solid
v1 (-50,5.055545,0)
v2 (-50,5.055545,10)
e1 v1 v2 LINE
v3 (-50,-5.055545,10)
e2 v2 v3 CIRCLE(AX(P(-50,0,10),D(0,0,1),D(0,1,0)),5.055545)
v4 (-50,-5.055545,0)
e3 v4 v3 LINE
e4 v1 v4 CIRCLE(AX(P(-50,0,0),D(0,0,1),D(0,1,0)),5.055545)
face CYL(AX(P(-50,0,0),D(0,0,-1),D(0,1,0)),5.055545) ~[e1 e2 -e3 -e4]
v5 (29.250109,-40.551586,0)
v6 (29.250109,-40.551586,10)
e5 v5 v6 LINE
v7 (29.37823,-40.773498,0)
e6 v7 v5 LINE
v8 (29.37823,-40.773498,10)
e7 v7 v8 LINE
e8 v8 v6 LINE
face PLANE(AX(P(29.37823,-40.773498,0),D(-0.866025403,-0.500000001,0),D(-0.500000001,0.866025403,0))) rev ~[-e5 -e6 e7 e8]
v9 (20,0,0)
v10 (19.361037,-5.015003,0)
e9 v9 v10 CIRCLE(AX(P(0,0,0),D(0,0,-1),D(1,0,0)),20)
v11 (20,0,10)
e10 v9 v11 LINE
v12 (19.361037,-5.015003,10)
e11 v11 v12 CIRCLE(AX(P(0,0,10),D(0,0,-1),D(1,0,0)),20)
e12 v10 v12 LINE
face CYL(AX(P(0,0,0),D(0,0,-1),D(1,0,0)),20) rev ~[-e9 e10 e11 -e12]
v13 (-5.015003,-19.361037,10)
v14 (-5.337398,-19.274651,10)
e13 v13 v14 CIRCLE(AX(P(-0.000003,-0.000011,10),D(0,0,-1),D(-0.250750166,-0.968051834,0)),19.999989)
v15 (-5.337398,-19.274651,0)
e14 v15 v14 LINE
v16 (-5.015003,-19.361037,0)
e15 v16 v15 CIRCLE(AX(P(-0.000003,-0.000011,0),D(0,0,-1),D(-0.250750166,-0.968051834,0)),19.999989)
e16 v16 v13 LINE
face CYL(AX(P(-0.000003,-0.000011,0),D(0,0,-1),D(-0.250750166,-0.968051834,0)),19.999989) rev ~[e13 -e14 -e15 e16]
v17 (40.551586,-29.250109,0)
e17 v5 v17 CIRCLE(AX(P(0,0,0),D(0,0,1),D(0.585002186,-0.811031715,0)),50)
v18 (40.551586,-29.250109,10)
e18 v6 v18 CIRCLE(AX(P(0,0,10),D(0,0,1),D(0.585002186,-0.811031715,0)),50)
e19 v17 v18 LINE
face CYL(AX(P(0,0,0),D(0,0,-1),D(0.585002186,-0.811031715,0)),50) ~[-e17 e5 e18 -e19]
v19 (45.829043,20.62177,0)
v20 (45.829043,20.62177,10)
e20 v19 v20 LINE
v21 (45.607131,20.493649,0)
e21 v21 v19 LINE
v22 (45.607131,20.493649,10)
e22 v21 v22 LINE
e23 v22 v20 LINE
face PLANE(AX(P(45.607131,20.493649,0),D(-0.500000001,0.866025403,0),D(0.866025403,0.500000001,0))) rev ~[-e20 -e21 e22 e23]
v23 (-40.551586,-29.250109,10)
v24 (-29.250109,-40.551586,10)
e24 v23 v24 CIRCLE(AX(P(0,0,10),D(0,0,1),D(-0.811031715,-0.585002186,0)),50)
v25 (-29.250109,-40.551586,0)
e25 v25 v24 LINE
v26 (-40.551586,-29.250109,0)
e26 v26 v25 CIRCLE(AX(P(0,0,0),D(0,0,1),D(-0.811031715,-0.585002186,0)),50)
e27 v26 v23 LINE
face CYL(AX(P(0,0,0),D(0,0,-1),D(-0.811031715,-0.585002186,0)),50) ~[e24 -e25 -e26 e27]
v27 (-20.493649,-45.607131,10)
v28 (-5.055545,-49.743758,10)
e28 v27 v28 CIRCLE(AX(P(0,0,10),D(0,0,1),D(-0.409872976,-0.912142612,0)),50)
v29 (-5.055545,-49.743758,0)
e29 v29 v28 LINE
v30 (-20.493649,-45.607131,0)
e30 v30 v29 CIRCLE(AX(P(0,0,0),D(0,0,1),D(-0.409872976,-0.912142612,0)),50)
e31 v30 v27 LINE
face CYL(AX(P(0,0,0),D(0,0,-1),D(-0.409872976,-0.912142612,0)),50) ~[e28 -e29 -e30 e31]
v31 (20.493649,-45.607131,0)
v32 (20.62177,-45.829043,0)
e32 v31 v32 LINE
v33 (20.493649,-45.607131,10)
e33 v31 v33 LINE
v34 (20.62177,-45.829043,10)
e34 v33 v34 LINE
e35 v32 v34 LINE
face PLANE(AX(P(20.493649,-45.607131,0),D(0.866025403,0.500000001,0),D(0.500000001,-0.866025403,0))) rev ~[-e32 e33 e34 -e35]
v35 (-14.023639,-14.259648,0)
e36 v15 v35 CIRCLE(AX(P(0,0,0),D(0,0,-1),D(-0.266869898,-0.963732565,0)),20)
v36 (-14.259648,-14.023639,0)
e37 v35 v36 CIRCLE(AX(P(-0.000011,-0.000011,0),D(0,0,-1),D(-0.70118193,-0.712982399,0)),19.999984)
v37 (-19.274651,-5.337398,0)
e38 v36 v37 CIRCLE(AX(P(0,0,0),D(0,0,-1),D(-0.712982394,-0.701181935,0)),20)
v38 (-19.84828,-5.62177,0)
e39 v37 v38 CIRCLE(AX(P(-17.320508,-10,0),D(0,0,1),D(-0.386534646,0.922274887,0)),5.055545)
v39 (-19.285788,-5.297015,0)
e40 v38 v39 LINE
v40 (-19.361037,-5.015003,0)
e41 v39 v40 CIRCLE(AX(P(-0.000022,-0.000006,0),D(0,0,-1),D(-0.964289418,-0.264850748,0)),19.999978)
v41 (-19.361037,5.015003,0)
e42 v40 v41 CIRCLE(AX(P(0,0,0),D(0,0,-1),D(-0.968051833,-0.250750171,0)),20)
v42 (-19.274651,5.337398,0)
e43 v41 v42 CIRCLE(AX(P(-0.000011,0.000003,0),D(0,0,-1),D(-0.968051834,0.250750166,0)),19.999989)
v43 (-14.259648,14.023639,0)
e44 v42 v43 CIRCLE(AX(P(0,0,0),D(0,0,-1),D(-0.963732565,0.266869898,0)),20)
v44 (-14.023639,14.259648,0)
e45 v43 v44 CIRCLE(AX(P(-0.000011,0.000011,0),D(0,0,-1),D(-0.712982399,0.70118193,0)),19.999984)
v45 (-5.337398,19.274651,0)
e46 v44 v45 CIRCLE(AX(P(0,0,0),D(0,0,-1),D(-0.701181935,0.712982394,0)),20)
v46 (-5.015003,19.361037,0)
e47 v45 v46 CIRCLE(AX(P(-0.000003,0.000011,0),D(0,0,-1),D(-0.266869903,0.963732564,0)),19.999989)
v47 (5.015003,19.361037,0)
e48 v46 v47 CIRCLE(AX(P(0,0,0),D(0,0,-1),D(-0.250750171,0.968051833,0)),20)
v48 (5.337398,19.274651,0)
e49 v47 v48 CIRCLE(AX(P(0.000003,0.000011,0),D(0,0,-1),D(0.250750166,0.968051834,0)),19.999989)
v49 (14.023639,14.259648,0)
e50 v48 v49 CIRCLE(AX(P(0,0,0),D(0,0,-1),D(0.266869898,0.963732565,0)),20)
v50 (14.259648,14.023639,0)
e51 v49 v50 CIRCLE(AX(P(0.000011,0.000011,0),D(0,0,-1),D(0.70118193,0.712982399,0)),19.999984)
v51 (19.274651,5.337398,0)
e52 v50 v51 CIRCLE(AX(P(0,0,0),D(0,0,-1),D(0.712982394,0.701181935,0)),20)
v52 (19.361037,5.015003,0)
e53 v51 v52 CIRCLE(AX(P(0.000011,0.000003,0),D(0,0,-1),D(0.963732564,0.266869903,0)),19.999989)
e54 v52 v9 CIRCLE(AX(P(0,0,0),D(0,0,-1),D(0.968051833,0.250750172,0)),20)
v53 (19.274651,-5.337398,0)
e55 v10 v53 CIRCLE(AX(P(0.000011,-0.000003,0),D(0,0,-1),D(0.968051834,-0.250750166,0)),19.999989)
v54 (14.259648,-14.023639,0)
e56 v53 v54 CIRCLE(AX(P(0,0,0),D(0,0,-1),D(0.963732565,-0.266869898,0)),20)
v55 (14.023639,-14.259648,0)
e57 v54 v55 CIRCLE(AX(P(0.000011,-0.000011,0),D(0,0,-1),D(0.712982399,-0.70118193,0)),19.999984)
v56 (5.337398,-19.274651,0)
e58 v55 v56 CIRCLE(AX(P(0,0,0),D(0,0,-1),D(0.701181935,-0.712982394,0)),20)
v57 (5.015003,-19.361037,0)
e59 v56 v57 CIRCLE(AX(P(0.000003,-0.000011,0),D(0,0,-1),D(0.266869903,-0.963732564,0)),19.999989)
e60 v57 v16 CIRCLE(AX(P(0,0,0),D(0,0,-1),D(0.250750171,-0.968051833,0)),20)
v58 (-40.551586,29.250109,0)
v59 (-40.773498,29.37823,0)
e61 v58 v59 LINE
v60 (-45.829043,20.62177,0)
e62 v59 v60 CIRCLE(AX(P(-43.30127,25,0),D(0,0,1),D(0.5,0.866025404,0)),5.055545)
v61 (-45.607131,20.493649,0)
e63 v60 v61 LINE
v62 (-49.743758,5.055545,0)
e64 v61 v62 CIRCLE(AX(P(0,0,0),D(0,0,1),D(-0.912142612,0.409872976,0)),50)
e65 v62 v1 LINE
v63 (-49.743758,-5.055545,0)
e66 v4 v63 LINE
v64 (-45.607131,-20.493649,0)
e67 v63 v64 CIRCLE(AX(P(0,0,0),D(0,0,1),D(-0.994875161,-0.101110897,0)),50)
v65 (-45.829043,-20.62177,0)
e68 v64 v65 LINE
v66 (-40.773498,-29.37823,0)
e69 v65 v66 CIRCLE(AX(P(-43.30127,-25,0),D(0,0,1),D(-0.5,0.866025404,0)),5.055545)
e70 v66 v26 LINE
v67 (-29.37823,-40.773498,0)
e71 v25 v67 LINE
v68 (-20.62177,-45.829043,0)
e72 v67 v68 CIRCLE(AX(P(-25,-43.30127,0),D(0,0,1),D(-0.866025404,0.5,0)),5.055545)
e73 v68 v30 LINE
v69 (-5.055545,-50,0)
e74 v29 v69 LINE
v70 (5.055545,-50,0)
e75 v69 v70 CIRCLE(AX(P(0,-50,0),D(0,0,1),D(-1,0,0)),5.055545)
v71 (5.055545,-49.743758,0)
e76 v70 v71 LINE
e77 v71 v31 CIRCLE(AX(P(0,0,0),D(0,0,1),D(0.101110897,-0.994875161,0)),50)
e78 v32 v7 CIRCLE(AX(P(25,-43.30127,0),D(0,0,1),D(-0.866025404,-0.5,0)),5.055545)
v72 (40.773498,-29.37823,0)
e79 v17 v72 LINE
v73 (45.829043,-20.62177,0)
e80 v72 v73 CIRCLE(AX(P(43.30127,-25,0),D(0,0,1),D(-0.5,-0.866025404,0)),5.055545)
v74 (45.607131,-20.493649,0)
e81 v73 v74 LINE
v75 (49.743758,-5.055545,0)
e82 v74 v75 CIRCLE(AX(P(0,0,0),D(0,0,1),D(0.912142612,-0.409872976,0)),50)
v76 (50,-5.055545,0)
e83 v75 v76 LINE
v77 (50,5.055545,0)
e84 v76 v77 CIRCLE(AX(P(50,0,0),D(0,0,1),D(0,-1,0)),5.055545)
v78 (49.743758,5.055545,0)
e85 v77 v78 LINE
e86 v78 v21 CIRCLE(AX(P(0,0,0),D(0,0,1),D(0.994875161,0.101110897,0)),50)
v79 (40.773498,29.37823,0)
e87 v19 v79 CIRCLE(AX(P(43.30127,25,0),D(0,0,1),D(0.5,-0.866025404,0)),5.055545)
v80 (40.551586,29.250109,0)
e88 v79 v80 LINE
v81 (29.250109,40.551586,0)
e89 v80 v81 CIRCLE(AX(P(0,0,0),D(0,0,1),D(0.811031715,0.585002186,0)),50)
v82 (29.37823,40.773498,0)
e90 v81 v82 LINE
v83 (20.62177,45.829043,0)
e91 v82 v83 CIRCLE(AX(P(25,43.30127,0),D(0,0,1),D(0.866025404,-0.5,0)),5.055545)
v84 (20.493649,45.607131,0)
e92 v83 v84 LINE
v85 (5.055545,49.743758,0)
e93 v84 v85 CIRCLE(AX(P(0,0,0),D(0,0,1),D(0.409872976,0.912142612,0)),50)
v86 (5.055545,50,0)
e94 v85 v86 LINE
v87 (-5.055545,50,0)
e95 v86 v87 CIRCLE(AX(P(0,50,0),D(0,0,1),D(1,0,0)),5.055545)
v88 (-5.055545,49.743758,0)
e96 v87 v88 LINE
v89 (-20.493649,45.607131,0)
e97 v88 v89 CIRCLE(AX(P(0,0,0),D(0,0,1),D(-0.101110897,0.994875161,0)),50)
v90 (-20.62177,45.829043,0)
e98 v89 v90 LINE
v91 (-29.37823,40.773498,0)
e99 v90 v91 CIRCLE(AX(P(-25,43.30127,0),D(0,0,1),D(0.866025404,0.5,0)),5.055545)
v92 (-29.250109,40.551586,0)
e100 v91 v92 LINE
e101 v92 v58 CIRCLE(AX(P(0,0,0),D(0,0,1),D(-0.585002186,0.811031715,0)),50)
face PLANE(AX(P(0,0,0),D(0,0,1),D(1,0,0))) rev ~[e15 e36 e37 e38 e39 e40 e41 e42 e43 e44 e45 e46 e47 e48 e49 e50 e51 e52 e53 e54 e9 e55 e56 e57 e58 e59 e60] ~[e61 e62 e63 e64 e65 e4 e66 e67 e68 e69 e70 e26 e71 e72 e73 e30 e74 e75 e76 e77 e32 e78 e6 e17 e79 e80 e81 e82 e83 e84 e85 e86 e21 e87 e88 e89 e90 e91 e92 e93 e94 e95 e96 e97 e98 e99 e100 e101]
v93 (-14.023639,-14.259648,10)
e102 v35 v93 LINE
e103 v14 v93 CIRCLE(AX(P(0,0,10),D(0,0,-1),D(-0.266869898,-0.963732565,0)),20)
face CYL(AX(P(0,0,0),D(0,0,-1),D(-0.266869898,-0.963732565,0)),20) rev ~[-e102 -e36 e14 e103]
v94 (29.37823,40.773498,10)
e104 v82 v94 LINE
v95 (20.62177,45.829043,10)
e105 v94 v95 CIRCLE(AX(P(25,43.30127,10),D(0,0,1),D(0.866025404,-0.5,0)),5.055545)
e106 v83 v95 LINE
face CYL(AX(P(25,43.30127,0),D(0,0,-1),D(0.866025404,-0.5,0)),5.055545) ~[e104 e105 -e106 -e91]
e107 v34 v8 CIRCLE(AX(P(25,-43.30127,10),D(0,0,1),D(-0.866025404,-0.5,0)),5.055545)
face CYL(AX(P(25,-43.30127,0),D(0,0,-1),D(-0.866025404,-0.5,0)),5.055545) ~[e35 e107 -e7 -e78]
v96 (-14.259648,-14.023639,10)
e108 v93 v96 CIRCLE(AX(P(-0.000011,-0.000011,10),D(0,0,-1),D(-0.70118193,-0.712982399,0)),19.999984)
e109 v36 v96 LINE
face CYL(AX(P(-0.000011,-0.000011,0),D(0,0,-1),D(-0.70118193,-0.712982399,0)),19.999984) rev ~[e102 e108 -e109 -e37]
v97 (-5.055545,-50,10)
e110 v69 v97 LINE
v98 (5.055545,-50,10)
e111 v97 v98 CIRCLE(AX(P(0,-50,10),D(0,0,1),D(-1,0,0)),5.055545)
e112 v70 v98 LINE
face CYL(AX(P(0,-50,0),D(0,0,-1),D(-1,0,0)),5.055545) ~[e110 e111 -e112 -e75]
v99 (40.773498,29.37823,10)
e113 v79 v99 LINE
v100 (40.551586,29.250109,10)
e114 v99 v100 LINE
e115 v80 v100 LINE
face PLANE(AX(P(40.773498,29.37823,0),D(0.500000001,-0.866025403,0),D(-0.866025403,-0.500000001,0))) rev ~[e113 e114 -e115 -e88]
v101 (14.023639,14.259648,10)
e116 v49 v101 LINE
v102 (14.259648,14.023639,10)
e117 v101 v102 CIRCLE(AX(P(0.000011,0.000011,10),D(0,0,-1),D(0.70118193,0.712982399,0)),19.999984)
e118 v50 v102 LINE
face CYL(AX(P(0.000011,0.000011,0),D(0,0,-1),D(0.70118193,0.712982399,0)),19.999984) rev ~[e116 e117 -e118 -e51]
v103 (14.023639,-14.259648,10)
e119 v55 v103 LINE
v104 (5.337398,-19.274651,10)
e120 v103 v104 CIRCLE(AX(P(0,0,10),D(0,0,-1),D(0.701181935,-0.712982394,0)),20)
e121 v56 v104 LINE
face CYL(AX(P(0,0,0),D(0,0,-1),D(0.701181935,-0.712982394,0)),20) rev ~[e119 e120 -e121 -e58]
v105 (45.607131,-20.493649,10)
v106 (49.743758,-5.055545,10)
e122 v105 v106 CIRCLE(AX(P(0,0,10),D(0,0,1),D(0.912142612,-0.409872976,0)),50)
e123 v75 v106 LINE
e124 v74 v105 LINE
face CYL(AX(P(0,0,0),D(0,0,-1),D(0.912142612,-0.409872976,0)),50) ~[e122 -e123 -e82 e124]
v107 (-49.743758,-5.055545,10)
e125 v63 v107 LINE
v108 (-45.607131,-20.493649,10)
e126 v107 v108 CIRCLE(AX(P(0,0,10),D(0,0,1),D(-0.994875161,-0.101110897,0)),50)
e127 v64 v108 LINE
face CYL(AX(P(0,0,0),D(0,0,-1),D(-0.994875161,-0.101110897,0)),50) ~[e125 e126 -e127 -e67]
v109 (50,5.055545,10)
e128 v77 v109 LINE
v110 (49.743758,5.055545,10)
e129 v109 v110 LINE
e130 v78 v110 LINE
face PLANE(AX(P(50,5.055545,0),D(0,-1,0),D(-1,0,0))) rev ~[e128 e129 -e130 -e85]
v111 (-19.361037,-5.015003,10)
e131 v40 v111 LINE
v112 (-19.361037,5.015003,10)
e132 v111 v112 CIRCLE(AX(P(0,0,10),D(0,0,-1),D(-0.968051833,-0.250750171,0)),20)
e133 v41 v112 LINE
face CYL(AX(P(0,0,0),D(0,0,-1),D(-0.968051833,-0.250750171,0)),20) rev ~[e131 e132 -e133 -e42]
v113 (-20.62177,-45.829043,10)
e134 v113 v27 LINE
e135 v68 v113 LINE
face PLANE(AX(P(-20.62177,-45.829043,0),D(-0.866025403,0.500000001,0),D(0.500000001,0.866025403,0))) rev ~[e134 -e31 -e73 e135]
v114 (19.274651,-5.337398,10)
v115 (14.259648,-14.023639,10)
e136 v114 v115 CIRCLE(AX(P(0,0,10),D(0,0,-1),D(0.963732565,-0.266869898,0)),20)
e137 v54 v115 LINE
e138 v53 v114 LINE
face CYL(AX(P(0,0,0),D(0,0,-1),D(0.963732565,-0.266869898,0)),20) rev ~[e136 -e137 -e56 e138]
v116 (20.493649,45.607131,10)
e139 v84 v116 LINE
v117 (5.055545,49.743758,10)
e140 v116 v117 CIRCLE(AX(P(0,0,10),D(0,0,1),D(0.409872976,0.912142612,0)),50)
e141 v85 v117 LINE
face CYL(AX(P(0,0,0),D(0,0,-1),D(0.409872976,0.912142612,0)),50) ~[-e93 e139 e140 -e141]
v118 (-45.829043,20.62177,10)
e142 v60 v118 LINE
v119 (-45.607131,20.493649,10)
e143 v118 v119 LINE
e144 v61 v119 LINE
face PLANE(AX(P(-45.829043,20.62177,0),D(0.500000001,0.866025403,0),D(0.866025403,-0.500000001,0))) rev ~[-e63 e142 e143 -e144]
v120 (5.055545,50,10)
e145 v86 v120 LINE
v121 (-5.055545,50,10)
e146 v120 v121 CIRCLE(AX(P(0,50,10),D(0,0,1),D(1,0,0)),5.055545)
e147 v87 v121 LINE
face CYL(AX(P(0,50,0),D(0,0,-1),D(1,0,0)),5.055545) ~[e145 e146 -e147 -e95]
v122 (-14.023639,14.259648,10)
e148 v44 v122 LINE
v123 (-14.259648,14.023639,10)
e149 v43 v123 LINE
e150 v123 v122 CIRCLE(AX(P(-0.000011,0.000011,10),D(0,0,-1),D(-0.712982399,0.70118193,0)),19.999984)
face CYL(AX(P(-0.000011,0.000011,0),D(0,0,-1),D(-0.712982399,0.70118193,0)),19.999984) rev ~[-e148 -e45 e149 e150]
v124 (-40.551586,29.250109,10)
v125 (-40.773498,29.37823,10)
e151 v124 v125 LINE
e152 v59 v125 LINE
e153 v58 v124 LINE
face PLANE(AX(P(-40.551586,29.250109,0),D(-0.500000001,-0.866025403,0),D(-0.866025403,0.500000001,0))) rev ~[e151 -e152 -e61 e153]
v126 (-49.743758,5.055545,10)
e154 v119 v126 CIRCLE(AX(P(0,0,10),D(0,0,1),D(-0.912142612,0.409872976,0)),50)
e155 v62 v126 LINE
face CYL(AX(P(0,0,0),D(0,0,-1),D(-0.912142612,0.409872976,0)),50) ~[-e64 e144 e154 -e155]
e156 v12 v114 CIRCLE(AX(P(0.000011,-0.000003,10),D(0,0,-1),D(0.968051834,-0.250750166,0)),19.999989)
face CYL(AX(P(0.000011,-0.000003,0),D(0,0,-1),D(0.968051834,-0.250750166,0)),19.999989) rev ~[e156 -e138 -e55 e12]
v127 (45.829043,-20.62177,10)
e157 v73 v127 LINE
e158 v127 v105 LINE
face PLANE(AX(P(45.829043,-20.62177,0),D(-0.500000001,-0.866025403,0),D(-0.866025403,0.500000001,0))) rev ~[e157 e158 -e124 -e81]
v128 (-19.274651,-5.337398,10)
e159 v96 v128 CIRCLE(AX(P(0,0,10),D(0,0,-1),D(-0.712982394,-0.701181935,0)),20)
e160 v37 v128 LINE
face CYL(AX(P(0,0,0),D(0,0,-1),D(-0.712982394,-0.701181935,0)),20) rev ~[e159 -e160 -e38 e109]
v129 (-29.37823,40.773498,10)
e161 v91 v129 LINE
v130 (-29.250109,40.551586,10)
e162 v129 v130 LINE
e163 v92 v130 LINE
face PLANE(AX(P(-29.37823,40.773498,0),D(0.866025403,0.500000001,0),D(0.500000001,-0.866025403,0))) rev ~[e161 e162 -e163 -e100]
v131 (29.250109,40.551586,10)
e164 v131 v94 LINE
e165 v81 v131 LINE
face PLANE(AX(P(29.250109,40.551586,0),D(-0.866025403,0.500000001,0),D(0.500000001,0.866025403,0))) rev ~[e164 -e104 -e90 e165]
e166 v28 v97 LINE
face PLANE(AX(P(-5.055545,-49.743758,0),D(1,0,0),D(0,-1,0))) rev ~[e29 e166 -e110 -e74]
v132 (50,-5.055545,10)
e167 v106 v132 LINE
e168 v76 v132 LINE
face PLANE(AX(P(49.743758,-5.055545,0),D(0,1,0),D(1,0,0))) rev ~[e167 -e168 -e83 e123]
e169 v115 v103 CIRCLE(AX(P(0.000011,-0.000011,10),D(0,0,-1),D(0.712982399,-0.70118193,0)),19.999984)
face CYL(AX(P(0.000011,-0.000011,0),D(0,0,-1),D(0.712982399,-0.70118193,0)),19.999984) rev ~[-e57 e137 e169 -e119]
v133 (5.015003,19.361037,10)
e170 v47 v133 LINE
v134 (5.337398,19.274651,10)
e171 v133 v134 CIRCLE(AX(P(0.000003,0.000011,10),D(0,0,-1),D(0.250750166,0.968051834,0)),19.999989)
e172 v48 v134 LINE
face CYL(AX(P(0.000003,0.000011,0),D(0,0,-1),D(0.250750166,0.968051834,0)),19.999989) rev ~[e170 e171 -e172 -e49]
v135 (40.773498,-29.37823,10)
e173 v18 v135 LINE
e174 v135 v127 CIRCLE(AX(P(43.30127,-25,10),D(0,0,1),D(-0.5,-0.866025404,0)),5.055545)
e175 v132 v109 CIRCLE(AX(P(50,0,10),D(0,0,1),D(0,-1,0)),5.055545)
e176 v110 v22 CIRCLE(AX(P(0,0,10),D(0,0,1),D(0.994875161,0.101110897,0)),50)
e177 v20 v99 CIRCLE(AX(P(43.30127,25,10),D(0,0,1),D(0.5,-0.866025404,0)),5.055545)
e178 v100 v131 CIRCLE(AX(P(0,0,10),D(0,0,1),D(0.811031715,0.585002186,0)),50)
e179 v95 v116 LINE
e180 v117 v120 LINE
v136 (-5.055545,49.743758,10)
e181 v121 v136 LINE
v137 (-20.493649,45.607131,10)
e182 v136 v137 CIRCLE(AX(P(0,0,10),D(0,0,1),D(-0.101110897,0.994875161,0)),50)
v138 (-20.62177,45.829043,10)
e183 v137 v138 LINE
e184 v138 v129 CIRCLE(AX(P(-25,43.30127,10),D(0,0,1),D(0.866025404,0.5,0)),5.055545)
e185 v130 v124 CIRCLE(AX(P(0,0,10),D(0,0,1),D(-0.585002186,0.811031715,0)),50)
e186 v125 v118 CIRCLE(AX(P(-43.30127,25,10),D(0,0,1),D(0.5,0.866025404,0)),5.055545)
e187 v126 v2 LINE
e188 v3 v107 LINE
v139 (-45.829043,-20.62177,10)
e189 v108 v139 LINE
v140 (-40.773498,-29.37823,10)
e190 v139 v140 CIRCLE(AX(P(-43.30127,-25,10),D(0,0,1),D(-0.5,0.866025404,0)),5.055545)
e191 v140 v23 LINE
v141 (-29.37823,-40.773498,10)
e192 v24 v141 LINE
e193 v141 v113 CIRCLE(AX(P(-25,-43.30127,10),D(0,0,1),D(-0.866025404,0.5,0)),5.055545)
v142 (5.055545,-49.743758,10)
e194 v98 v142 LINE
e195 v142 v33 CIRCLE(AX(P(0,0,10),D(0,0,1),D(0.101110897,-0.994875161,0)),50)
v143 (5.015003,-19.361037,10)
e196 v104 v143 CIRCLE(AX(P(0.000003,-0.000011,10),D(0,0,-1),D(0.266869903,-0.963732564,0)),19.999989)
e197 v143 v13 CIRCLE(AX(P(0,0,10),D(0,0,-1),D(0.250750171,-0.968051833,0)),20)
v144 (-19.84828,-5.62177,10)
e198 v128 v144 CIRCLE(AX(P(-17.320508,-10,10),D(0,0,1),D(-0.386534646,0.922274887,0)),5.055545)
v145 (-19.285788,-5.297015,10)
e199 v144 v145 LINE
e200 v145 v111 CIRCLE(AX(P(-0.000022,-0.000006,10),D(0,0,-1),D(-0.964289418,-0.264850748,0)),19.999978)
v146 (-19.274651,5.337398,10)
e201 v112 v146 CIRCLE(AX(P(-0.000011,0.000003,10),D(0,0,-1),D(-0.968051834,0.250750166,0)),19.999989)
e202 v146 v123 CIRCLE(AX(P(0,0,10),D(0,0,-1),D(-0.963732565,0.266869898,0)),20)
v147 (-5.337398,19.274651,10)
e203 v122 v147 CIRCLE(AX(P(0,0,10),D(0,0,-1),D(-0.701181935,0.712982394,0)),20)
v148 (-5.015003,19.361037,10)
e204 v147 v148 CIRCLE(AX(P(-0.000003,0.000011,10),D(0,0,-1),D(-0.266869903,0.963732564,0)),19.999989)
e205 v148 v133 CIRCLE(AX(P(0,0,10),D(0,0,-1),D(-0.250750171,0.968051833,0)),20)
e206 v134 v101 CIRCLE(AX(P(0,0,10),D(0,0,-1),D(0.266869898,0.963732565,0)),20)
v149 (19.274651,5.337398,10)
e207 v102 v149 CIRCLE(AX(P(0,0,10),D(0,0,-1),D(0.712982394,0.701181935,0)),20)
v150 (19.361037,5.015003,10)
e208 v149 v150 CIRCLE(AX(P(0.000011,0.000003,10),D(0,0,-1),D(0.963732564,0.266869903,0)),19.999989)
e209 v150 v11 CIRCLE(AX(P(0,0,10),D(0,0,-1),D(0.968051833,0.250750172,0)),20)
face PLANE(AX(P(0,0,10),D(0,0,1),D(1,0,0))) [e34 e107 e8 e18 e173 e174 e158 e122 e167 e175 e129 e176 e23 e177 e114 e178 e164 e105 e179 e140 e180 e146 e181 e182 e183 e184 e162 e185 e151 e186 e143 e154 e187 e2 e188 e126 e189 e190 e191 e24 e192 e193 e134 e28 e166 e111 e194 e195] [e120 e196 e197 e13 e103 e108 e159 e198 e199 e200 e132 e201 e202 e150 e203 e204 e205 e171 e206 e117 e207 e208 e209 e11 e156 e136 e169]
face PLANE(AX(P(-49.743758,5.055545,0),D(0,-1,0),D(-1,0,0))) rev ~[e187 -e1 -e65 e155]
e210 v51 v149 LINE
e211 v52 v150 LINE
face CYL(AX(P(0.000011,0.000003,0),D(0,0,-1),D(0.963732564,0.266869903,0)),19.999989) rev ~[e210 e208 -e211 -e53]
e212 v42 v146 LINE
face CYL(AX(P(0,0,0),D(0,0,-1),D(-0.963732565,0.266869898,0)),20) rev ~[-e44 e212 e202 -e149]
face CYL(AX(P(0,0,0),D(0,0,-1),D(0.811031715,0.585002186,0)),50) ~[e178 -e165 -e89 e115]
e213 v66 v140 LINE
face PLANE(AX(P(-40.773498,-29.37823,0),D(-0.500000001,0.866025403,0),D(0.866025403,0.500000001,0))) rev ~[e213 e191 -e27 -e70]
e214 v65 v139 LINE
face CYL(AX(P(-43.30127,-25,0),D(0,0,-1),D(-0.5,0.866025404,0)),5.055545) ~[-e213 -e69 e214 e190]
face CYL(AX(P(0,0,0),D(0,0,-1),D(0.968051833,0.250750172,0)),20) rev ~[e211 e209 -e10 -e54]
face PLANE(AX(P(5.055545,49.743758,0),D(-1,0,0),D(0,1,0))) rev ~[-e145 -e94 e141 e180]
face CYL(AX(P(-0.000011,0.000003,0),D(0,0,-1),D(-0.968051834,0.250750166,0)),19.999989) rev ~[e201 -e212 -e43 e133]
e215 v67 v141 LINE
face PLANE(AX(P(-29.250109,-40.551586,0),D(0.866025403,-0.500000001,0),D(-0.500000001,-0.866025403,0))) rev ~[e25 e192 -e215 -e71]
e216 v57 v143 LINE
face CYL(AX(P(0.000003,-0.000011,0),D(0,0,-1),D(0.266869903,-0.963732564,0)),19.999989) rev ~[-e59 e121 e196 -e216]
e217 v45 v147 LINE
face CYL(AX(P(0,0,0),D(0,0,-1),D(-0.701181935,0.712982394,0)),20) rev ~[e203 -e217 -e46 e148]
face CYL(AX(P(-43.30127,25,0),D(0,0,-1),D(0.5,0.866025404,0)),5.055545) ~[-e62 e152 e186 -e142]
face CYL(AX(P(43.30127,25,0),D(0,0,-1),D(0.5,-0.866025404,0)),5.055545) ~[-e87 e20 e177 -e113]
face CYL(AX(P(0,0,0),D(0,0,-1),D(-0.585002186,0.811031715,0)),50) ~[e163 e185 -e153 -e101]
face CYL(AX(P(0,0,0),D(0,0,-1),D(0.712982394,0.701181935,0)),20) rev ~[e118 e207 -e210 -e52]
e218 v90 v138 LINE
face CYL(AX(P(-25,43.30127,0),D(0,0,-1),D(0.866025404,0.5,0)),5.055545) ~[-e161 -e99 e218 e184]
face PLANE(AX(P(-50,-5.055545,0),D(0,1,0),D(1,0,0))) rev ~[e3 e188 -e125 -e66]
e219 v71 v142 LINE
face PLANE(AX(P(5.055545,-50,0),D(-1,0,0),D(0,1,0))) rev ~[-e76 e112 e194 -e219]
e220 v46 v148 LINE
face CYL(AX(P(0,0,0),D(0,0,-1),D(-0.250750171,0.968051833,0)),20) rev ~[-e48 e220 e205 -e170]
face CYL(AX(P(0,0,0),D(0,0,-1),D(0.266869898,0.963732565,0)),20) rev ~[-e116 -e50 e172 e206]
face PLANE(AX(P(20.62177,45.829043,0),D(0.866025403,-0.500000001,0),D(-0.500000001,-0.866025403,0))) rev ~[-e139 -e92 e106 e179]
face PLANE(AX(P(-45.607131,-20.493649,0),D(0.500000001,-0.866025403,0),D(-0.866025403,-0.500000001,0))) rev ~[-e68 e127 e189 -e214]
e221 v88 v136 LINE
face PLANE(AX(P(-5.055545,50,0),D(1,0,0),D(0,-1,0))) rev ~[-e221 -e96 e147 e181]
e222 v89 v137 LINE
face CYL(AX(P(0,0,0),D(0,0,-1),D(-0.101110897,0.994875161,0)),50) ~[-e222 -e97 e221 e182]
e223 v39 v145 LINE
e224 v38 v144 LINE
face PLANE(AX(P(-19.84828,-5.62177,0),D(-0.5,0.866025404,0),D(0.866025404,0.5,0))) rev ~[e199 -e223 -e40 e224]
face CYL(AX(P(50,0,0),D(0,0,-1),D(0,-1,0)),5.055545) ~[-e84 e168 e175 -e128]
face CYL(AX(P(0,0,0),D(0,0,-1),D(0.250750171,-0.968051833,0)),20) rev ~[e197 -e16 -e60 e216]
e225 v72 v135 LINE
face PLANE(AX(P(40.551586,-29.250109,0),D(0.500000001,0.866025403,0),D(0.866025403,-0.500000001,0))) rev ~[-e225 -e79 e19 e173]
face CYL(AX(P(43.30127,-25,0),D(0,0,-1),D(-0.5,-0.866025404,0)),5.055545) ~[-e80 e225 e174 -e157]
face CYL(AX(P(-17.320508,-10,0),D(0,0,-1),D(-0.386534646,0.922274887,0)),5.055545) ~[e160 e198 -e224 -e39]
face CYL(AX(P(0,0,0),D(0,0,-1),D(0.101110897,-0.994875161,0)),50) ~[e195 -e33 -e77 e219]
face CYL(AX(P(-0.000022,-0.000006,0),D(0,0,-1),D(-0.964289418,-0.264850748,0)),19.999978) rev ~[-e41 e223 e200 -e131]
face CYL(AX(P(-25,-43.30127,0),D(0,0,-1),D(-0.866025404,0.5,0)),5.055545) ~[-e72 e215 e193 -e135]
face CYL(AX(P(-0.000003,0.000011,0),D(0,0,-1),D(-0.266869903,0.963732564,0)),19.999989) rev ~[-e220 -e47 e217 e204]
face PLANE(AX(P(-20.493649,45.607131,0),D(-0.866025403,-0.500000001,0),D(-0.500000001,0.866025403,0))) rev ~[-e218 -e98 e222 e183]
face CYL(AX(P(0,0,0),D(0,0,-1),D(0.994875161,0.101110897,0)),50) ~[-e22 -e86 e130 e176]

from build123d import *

# Parameters (mm, degrees)
BOSS_EXTRUDE1_DEPTH = 10


with BuildPart() as part:
    # Sketch1 → Boss-Extrude1 (new body)
    with BuildSketch(Plane.XY):
        with BuildLine():
            Line((-5.055544828, 50), (-5.055544828, 49.743758066))
            ThreePointArc((-5.055544828, 49.743758066), (-12.940952255, 48.296291315), (-20.493648782, 45.607130579))
            Line((-20.493648782, 45.607130579), (-20.621769749, 45.829042603))
            ThreePointArc((-20.621769749, 45.829042603), (-27.527772414, 47.67950044), (-29.378230251, 40.773497775))
            Line((-29.378230251, 40.773497775), (-29.250109284, 40.551585751))
            ThreePointArc((-29.250109284, 40.551585751), (-35.355339059, 35.355339059), (-40.551585751, 29.250109284))
            Line((-40.551585751, 29.250109284), (-40.773497775, 29.378230251))
            ThreePointArc((-40.773497775, 29.378230251), (-47.67950044, 27.527772414), (-45.829042603, 20.621769749))
            Line((-45.829042603, 20.621769749), (-45.607130579, 20.493648782))
            ThreePointArc((-45.607130579, 20.493648782), (-48.296291315, 12.940952255), (-49.743758066, 5.055544828))
            Line((-49.743758066, 5.055544828), (-50, 5.055544828))
            ThreePointArc((-50, 5.055544828), (-55.055544828, 0), (-50, -5.055544828))
            Line((-50, -5.055544828), (-49.743758066, -5.055544828))
            ThreePointArc((-49.743758066, -5.055544828), (-48.296291315, -12.940952255), (-45.607130579, -20.493648782))
            Line((-45.607130579, -20.493648782), (-45.829042603, -20.621769749))
            ThreePointArc((-45.829042603, -20.621769749), (-47.67950044, -27.527772414), (-40.773497775, -29.378230251))
            Line((-40.773497775, -29.378230251), (-40.551585751, -29.250109284))
            ThreePointArc((-40.551585751, -29.250109284), (-35.355339059, -35.355339059), (-29.250109284, -40.551585751))
            Line((-29.250109284, -40.551585751), (-29.378230251, -40.773497775))
            ThreePointArc((-29.378230251, -40.773497775), (-27.527772414, -47.67950044), (-20.621769749, -45.829042603))
            Line((-20.621769749, -45.829042603), (-20.493648782, -45.607130579))
            ThreePointArc((-20.493648782, -45.607130579), (-12.940952255, -48.296291315), (-5.055544828, -49.743758066))
            Line((-5.055544828, -49.743758066), (-5.055544828, -50))
            ThreePointArc((-5.055544828, -50), (0, -55.055544828), (5.055544828, -50))
            Line((5.055544828, -50), (5.055544828, -49.743758066))
            ThreePointArc((5.055544828, -49.743758066), (12.940952255, -48.296291315), (20.493648782, -45.607130579))
            Line((20.493648782, -45.607130579), (20.621769749, -45.829042603))
            ThreePointArc((20.621769749, -45.829042603), (27.527772414, -47.67950044), (29.378230251, -40.773497775))
            Line((29.378230251, -40.773497775), (29.250109284, -40.551585751))
            ThreePointArc((29.250109284, -40.551585751), (35.355339059, -35.355339059), (40.551585751, -29.250109284))
            Line((40.551585751, -29.250109284), (40.773497775, -29.378230251))
            ThreePointArc((40.773497775, -29.378230251), (47.67950044, -27.527772414), (45.829042603, -20.621769749))
            Line((45.829042603, -20.621769749), (45.607130579, -20.493648782))
            ThreePointArc((45.607130579, -20.493648782), (48.296291315, -12.940952255), (49.743758066, -5.055544828))
            Line((49.743758066, -5.055544828), (50, -5.055544828))
            ThreePointArc((50, -5.055544828), (55.055544828, 0), (50, 5.055544828))
            Line((50, 5.055544828), (49.743758066, 5.055544828))
            ThreePointArc((49.743758066, 5.055544828), (48.296291315, 12.940952255), (45.607130579, 20.493648782))
            Line((45.607130579, 20.493648782), (45.829042603, 20.621769749))
            ThreePointArc((45.829042603, 20.621769749), (47.67950044, 27.527772414), (40.773497775, 29.378230251))
            Line((40.773497775, 29.378230251), (40.551585751, 29.250109284))
            ThreePointArc((40.551585751, 29.250109284), (35.355339059, 35.355339059), (29.250109284, 40.551585751))
            Line((29.250109284, 40.551585751), (29.378230251, 40.773497775))
            ThreePointArc((29.378230251, 40.773497775), (27.527772414, 47.67950044), (20.621769749, 45.829042603))
            Line((20.621769749, 45.829042603), (20.493648782, 45.607130579))
            ThreePointArc((20.493648782, 45.607130579), (12.940952255, 48.296291315), (5.055544828, 49.743758066))
            Line((5.055544828, 49.743758066), (5.055544828, 50))
            ThreePointArc((5.055544828, 50), (0, 55.055544828), (-5.055544828, 50))
        make_face()
        with BuildLine():
            ThreePointArc((-19.274651306, -5.337397964), (-19.565972123, -5.470493987), (-19.84828049, -5.621769749))
            Line((-19.84828049, -5.621769749), (-19.285788402, -5.297014791))
            ThreePointArc((-19.285788402, -5.297014791), (-19.323926995, -5.156146381), (-19.361036662, -5.015003426))
            ThreePointArc((-19.361036662, -5.015003426), (-20, 0), (-19.361036662, 5.015003426))
            ThreePointArc((-19.361036662, 5.015003426), (-19.318516526, 5.176380902), (-19.274651306, 5.337397964))
            ThreePointArc((-19.274651306, 5.337397964), (-17.320508076, 10), (-14.25964788, 14.023638698))
            ThreePointArc((-14.25964788, 14.023638698), (-14.142135624, 14.142135624), (-14.023638698, 14.25964788))
            ThreePointArc((-14.023638698, 14.25964788), (-10, 17.320508076), (-5.337397964, 19.274651306))
            ThreePointArc((-5.337397964, 19.274651306), (-5.176380902, 19.318516526), (-5.015003426, 19.361036662))
            ThreePointArc((-5.015003426, 19.361036662), (0, 20), (5.015003426, 19.361036662))
            ThreePointArc((5.015003426, 19.361036662), (5.176380902, 19.318516526), (5.337397964, 19.274651306))
            ThreePointArc((5.337397964, 19.274651306), (10, 17.320508076), (14.023638698, 14.25964788))
            ThreePointArc((14.023638698, 14.25964788), (14.142135624, 14.142135624), (14.25964788, 14.023638698))
            ThreePointArc((14.25964788, 14.023638698), (17.320508076, 10), (19.274651306, 5.337397964))
            ThreePointArc((19.274651306, 5.337397964), (19.318516526, 5.176380902), (19.361036662, 5.015003426))
            ThreePointArc((19.361036662, 5.015003426), (19.839616091, 2.527772414), (20, 0))
            ThreePointArc((20, 0), (19.839616091, -2.527772414), (19.361036662, -5.015003426))
            ThreePointArc((19.361036662, -5.015003426), (19.318516526, -5.176380902), (19.274651306, -5.337397964))
            ThreePointArc((19.274651306, -5.337397964), (17.320508076, -10), (14.25964788, -14.023638698))
            ThreePointArc((14.25964788, -14.023638698), (14.142135624, -14.142135624), (14.023638698, -14.25964788))
            ThreePointArc((14.023638698, -14.25964788), (10, -17.320508076), (5.337397964, -19.274651306))
            ThreePointArc((5.337397964, -19.274651306), (5.176380902, -19.318516526), (5.015003426, -19.361036662))
            ThreePointArc((5.015003426, -19.361036662), (0, -20), (-5.015003426, -19.361036662))
            ThreePointArc((-5.015003426, -19.361036662), (-5.176380902, -19.318516526), (-5.337397964, -19.274651306))
            ThreePointArc((-5.337397964, -19.274651306), (-10, -17.320508076), (-14.023638698, -14.25964788))
            ThreePointArc((-14.023638698, -14.25964788), (-14.142135624, -14.142135624), (-14.25964788, -14.023638698))
            ThreePointArc((-14.25964788, -14.023638698), (-17.320508076, -10), (-19.274651306, -5.337397964))
        make_face(mode=Mode.SUBTRACT)
    extrude(amount=BOSS_EXTRUDE1_DEPTH)


solid = part.part
